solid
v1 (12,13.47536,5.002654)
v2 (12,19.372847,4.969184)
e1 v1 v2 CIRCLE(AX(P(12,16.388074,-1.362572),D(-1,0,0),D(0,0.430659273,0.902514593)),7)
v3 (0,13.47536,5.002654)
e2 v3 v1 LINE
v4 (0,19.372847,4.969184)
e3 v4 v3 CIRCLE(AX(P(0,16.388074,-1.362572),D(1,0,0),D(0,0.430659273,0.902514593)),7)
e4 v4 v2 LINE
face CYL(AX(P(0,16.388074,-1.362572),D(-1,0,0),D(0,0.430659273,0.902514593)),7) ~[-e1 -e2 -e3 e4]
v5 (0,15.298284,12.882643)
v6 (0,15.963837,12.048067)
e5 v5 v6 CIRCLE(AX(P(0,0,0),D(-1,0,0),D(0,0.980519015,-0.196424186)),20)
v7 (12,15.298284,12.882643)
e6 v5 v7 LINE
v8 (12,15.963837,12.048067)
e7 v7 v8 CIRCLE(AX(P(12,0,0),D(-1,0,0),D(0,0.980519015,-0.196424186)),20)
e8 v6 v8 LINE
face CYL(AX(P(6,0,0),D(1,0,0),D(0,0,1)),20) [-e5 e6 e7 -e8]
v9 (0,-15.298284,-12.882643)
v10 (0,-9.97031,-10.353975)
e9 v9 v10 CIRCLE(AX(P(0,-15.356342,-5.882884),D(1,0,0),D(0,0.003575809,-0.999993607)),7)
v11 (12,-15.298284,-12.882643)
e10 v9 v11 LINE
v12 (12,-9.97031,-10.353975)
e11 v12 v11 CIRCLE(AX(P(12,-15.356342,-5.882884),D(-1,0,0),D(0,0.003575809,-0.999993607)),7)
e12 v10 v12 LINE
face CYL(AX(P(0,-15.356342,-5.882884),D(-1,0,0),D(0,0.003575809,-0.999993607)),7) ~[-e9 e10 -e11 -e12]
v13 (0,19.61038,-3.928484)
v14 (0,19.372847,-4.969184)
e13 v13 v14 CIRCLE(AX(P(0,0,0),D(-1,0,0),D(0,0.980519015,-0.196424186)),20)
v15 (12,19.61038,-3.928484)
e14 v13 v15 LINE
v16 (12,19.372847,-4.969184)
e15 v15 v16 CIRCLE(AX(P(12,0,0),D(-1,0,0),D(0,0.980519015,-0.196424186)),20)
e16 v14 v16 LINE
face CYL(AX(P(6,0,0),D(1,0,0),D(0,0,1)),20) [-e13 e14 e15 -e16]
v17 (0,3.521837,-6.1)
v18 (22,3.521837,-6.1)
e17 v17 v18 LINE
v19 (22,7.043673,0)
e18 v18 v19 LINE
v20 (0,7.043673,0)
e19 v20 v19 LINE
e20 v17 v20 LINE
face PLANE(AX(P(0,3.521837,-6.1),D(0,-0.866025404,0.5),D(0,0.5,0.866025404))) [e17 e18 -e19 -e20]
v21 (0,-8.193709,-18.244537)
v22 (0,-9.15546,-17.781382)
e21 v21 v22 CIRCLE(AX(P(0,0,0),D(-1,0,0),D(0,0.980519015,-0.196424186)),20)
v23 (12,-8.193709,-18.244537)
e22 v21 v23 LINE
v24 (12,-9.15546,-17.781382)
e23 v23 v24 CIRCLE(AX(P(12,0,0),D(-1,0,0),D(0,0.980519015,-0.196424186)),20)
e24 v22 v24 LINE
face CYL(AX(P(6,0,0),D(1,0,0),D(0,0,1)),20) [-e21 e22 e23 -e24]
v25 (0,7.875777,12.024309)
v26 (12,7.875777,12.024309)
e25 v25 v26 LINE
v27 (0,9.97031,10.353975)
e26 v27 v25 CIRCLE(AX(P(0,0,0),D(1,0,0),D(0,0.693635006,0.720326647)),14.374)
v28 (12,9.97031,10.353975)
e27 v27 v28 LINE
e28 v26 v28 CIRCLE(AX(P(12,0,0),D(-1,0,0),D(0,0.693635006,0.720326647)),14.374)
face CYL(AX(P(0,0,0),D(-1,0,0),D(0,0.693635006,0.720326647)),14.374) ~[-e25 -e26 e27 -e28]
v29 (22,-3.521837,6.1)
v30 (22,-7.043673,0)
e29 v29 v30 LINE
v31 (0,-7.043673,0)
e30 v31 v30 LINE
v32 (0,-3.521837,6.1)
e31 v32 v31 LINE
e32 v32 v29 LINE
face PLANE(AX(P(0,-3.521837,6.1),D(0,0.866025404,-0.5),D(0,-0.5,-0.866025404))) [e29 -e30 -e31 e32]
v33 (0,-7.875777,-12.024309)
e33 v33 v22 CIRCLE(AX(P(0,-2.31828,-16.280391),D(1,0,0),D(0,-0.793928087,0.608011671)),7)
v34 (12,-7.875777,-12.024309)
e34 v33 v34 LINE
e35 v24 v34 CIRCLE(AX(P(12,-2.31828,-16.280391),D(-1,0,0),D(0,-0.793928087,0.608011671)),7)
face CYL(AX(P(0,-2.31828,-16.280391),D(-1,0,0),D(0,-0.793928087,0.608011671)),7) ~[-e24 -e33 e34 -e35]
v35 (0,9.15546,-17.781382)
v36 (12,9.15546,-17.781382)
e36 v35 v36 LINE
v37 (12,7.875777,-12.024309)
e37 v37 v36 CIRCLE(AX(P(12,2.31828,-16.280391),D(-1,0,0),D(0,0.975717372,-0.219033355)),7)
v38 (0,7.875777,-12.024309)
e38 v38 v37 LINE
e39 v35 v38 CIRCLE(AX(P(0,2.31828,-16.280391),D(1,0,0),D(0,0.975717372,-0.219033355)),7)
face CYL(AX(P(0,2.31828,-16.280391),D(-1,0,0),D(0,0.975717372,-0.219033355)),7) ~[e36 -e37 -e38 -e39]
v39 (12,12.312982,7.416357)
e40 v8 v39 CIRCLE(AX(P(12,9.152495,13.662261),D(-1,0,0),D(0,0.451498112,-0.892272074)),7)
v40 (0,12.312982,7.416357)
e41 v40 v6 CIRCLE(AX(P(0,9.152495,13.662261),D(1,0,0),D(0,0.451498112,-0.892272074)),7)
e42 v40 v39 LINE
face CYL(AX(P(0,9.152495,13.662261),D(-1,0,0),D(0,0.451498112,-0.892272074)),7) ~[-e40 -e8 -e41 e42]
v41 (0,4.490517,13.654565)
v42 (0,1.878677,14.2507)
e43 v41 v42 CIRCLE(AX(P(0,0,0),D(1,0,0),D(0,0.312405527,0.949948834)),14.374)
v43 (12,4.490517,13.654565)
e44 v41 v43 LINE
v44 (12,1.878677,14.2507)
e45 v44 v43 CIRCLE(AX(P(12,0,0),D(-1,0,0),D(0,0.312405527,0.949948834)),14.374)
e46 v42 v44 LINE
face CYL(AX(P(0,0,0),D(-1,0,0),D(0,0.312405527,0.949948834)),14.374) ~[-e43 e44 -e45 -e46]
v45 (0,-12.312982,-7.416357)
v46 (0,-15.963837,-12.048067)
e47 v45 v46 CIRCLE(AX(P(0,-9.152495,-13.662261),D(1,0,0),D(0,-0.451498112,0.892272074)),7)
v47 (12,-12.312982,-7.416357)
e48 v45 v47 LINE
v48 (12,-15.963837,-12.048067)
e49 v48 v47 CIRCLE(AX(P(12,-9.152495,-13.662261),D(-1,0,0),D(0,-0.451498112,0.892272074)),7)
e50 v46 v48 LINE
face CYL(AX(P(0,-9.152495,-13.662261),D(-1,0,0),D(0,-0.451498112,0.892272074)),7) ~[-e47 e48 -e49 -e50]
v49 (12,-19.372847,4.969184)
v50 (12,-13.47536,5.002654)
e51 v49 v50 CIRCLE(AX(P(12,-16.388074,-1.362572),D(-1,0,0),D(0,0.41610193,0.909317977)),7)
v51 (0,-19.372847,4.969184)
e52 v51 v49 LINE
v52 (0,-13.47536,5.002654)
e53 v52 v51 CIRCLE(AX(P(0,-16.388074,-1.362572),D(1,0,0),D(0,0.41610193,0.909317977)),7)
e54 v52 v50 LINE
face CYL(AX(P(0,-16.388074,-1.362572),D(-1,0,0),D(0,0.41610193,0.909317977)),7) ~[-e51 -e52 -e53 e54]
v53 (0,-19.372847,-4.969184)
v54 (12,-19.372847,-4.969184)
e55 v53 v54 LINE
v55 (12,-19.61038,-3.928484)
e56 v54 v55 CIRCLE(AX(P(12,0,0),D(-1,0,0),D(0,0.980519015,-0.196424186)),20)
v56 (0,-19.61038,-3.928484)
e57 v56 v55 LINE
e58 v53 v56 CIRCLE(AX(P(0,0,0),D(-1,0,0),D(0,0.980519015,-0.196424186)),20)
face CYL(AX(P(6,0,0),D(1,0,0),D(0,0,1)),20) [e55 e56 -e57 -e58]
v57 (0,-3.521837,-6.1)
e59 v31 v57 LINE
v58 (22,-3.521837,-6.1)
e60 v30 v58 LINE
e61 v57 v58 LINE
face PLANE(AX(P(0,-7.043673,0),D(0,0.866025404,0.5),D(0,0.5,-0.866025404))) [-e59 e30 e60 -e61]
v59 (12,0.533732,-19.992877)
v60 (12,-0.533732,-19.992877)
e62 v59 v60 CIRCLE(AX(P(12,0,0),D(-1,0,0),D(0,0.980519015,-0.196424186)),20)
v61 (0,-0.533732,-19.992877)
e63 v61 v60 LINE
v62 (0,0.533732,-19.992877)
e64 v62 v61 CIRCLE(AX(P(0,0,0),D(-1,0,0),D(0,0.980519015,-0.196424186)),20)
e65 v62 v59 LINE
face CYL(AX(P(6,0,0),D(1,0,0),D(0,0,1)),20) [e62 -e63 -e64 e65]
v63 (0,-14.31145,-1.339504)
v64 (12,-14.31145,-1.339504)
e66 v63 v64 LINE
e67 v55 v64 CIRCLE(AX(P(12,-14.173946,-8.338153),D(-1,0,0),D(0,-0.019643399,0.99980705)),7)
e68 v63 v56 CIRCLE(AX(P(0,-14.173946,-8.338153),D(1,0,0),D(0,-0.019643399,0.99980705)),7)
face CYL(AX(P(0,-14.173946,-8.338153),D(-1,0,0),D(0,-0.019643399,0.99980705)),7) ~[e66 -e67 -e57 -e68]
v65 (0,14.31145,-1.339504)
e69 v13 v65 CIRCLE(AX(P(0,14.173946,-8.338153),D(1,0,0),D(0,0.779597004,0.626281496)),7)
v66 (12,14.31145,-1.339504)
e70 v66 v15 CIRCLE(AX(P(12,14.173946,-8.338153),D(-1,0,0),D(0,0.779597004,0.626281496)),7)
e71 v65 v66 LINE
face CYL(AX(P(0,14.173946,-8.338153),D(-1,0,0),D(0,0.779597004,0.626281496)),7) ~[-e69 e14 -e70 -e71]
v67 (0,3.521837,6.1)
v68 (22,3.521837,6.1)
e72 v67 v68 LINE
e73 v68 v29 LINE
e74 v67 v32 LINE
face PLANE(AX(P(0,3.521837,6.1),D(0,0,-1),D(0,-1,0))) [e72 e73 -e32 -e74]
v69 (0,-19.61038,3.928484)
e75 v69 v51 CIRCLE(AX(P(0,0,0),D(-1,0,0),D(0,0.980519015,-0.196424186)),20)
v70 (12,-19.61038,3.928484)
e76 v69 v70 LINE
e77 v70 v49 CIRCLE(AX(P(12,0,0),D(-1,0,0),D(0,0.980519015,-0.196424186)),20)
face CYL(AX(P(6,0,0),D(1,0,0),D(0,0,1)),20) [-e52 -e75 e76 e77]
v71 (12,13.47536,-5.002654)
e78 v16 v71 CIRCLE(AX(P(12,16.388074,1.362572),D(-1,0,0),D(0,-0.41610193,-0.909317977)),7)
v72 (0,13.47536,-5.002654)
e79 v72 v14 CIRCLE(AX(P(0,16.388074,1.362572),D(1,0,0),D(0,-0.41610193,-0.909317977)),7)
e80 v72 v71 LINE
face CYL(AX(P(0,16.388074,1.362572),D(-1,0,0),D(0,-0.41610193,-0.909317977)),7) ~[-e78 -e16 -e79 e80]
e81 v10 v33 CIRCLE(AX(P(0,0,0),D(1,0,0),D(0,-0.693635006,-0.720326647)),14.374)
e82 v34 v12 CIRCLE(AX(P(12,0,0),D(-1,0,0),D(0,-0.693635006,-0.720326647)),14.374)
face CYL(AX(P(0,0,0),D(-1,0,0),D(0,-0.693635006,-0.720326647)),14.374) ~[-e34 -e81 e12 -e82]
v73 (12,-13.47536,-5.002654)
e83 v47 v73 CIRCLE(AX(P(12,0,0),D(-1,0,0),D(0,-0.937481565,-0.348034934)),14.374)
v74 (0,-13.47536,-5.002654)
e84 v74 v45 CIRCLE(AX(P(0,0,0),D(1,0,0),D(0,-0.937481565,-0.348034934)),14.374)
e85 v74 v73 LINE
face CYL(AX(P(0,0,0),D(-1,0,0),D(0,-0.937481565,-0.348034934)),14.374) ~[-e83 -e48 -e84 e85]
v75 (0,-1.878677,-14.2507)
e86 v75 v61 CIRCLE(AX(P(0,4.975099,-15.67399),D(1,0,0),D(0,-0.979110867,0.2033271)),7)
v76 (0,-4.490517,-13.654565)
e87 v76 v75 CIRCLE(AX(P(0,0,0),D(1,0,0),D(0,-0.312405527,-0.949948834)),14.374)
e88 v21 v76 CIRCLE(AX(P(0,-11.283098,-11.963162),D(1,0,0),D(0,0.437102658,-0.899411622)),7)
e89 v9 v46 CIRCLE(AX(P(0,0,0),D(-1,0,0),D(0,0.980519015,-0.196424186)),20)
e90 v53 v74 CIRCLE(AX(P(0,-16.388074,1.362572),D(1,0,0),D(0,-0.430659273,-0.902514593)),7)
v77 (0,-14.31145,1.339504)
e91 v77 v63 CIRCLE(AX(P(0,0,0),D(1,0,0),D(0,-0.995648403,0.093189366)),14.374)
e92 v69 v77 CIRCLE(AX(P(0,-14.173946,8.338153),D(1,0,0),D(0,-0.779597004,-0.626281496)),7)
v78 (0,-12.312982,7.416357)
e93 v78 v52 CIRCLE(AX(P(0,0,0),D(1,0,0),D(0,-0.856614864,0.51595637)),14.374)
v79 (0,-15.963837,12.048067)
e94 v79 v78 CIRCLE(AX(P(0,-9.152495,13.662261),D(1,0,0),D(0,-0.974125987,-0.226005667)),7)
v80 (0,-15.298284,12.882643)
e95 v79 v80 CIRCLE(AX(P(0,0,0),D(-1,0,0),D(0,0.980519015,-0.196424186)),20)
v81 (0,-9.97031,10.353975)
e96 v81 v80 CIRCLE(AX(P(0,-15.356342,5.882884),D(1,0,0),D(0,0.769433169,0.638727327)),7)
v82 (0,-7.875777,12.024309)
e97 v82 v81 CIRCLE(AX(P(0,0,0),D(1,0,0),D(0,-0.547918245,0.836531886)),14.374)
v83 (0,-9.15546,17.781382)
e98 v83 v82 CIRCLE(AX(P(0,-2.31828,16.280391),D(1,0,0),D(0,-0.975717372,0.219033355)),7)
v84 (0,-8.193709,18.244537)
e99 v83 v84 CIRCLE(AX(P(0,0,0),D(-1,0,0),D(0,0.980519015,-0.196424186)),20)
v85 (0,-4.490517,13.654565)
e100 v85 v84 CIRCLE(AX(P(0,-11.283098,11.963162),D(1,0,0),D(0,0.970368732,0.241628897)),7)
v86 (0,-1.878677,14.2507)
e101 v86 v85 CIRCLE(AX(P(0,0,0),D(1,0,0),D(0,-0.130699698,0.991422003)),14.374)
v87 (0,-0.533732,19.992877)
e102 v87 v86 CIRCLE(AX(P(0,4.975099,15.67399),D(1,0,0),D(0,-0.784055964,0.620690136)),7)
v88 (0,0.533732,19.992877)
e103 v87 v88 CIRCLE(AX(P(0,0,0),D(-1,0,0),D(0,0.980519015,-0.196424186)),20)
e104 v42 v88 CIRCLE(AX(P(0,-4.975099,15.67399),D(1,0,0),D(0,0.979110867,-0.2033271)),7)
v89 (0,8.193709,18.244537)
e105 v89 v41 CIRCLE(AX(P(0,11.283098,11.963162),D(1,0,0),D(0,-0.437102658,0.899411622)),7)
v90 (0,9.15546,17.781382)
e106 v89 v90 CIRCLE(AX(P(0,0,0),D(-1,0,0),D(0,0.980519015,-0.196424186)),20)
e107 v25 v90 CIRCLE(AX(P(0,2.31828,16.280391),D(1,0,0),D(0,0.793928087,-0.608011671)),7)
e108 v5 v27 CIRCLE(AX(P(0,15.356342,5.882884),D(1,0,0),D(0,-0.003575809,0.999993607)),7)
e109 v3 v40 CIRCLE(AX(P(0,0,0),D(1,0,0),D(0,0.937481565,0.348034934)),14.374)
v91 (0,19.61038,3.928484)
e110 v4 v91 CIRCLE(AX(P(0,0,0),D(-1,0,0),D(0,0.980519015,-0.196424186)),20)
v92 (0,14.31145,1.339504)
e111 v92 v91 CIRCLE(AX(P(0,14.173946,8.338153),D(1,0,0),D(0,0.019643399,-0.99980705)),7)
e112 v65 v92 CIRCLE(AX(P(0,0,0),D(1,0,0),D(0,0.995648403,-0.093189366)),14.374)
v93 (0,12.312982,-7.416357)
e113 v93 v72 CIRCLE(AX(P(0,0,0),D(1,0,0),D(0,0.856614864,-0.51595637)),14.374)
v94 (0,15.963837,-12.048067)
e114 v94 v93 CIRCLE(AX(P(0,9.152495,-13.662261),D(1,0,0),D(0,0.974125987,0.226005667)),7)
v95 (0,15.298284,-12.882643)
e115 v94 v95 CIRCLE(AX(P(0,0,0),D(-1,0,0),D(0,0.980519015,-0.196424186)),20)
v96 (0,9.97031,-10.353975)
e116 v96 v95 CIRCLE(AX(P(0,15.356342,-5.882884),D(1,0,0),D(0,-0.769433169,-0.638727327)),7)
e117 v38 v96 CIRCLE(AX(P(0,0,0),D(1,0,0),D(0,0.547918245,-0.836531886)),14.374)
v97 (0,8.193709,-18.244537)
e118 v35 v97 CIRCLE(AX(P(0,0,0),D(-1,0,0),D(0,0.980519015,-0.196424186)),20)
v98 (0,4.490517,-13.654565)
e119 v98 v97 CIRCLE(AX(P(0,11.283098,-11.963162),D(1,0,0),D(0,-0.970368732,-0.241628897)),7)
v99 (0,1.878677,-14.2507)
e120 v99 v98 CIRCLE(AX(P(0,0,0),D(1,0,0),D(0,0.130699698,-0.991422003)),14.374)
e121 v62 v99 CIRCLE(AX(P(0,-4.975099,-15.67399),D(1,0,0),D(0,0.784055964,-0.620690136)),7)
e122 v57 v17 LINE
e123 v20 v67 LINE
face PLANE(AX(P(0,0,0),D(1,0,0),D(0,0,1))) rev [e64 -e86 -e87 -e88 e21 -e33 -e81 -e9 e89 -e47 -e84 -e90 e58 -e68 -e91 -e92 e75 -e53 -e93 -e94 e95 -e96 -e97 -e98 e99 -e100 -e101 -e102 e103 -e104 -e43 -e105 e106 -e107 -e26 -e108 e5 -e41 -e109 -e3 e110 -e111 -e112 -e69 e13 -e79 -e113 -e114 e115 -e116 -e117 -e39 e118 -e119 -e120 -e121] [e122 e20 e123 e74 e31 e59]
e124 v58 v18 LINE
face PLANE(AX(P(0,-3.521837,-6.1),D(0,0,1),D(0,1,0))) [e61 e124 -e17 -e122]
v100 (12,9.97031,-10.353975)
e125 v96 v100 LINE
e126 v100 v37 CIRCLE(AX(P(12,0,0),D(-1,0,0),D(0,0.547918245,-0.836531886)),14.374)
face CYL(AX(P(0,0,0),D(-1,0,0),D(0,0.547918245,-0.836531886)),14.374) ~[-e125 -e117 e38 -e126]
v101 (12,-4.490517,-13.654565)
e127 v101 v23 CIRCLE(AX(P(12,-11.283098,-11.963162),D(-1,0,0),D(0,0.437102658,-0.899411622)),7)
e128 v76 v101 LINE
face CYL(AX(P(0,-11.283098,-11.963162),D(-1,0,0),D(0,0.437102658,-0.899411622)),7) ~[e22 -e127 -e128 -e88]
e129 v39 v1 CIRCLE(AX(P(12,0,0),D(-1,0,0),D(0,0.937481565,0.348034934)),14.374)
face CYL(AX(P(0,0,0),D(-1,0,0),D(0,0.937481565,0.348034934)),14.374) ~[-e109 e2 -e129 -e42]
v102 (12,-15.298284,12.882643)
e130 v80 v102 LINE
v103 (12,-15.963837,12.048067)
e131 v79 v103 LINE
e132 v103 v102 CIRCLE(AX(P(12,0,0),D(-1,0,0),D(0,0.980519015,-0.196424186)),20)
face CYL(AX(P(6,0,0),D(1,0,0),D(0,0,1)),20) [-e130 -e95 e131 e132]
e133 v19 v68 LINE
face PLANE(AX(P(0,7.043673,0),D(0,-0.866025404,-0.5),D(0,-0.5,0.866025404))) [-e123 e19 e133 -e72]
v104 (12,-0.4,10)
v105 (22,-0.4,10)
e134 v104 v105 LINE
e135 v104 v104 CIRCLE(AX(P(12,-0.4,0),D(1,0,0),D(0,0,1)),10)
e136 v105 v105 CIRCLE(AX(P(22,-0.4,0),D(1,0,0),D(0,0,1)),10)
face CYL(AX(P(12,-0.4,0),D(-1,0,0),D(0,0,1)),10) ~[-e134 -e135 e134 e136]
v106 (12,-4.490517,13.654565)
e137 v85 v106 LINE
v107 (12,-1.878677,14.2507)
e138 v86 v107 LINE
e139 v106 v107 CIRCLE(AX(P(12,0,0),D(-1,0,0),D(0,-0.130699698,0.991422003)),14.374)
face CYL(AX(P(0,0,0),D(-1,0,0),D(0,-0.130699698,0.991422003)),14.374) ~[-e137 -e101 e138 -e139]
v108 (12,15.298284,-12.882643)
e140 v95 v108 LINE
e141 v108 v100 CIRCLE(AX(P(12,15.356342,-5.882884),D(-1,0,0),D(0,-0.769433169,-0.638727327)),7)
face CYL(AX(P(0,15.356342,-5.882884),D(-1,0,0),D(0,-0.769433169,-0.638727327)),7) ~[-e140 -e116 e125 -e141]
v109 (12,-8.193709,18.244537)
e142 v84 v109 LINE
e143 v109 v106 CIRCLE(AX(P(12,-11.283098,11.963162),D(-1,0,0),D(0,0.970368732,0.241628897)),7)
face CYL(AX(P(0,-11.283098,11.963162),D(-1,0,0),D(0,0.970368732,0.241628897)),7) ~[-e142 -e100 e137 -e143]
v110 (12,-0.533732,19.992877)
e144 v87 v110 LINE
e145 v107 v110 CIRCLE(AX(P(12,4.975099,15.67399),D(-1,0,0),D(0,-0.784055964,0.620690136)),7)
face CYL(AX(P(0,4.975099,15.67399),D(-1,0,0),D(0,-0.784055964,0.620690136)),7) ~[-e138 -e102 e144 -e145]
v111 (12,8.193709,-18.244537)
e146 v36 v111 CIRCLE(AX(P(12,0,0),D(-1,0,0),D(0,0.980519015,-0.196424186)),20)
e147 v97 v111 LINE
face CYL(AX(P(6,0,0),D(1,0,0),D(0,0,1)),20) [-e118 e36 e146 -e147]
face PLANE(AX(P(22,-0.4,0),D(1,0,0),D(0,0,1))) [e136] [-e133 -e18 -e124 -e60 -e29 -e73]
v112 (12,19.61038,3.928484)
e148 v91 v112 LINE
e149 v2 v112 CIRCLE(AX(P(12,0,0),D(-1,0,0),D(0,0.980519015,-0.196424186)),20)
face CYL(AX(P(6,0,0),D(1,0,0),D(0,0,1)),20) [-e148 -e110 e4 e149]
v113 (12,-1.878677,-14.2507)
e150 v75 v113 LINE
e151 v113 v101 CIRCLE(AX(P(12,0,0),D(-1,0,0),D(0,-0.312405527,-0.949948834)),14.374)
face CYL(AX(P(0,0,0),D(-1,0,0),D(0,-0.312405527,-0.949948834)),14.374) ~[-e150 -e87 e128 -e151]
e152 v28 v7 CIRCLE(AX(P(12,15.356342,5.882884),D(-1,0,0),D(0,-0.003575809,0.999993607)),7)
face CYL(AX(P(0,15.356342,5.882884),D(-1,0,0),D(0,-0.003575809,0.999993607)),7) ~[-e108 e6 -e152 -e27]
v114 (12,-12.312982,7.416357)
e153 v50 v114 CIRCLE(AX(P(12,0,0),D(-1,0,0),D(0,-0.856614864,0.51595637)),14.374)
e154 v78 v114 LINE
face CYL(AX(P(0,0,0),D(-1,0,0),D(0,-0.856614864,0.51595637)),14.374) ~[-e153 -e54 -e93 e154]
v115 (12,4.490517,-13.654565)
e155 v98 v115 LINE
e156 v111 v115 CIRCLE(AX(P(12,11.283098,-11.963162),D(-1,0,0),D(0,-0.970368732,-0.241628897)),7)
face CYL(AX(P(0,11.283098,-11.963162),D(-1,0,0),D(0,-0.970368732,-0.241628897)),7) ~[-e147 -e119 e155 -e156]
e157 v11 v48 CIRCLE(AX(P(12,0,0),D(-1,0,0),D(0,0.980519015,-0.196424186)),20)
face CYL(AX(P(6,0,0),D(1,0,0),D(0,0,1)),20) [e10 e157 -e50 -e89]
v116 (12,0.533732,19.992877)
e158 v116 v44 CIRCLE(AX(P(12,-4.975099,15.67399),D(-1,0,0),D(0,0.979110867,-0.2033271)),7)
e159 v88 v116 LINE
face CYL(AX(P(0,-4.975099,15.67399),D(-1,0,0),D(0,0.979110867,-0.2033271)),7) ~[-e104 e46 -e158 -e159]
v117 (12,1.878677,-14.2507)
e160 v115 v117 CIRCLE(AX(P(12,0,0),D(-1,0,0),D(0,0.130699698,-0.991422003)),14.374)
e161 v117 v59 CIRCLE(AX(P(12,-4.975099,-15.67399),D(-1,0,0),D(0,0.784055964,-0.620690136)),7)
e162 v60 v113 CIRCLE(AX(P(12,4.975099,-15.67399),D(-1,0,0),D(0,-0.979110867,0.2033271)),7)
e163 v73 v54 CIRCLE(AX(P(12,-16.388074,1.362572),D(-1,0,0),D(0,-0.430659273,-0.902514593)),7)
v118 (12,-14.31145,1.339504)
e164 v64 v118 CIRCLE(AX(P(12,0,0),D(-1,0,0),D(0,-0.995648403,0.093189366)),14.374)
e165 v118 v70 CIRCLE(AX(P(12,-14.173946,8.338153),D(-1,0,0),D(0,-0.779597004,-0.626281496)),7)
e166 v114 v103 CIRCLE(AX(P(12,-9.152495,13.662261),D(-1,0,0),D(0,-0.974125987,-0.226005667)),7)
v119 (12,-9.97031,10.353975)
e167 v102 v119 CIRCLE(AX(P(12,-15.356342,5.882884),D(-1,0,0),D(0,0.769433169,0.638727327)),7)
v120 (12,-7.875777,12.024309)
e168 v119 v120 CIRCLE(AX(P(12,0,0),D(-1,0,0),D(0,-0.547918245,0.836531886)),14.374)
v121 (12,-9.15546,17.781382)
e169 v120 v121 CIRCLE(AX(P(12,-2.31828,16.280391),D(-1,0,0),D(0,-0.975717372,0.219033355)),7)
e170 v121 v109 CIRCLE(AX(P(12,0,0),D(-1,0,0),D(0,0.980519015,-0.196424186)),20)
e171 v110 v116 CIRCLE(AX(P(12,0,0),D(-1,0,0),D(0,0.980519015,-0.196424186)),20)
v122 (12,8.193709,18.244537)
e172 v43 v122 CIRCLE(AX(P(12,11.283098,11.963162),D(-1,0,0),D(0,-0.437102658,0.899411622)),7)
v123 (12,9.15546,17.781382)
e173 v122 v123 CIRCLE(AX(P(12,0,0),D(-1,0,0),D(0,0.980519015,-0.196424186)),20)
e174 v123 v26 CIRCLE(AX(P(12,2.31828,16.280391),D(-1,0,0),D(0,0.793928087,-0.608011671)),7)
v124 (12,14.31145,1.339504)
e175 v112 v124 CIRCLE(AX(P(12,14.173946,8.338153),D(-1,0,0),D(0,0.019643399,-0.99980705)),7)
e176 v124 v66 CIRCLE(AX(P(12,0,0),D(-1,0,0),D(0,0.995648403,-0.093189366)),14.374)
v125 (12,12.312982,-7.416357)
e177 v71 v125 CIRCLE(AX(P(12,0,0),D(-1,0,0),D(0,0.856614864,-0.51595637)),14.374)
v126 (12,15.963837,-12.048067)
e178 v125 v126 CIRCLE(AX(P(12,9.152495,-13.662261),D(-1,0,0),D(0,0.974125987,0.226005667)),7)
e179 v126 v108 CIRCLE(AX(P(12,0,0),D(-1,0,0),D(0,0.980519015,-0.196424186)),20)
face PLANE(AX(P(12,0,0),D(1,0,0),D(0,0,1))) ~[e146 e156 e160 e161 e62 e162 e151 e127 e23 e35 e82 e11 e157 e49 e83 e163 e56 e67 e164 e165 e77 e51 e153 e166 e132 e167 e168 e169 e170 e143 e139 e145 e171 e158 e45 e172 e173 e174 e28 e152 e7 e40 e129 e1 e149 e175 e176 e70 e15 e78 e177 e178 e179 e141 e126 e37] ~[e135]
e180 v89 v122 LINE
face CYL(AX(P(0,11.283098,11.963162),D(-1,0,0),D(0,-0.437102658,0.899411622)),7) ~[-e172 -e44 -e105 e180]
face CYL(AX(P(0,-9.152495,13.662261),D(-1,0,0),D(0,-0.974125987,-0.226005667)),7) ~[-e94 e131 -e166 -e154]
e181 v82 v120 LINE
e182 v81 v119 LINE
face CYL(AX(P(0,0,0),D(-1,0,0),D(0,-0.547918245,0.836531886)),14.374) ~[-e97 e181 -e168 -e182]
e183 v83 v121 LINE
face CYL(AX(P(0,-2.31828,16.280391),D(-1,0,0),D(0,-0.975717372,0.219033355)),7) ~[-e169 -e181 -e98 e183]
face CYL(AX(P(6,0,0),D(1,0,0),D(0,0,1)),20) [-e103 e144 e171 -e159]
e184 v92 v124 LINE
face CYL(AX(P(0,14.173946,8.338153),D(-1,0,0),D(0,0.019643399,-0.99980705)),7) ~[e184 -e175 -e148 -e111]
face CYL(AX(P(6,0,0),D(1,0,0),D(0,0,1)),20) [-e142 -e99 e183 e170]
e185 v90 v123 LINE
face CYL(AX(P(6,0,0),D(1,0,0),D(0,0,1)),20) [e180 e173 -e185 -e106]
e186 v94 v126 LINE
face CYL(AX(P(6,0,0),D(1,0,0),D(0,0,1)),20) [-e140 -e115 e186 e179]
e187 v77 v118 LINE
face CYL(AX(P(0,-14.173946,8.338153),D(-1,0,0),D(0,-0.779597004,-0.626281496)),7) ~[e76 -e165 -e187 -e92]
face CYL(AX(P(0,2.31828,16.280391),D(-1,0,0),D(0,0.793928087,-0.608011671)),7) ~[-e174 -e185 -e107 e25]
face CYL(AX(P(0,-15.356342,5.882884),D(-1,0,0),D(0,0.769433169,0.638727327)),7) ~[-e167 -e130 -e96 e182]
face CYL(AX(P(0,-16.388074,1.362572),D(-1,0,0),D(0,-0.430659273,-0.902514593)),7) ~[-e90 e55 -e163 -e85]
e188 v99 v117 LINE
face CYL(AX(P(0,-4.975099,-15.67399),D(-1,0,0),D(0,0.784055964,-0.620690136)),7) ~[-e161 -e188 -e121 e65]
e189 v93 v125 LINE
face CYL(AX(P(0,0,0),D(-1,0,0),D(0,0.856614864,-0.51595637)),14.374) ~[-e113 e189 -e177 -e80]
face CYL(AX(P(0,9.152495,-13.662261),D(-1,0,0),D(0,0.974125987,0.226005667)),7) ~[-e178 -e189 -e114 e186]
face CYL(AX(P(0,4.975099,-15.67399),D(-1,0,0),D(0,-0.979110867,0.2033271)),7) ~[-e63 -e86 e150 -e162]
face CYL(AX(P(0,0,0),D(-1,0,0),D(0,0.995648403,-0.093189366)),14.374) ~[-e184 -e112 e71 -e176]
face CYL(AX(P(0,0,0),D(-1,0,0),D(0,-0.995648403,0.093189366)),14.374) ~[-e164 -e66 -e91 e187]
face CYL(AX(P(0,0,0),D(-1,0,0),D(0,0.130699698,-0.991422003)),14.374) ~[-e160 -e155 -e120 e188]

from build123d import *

# Parameters (mm, degrees)
BASPROSKE_W         = 12
BASPROSKE_H         = 20
TOOTHCUT_DEPTH      = 31.724582991
TEETHCUTS_COUNT     = 14
TEETHCUTS_ANGLE     = 334.285714286
BORSKE_R            = 0.4
BORE_DEPTH          = 50.0000508
SKETCH1_R           = 10
BOSS_EXTRUDE1_DEPTH = 10
CUT_EXTRUDE1_START  = -22
CUT_EXTRUDE1_DEPTH  = 22


with BuildPart() as part:
    # BasProSke → Base-Revolve (revolve)
    with BuildSketch(Plane(origin=(0, 0, 0), x_dir=(1, 0, 0), z_dir=(0, 1, 0)), mode=Mode.PRIVATE) as base_revolve_sk:
        with Locations((6, 10)):
            Rectangle(BASPROSKE_W, BASPROSKE_H)
    revolve(base_revolve_sk.sketch.rotate(Axis((-10, 0, 0), (1, 0, 0)), 180), axis=Axis((-10, 0, 0), (1, 0, 0)))

    # TooCutSke → ToothCut (cut, through all)
    with BuildSketch(Plane(origin=(0, 0, 0), x_dir=(0, 0, -1), z_dir=(1, 0, 0))):
        with BuildLine():
            ThreePointArc((1.339503949, 14.311450142), (0, 14.374), (-1.339503949, 14.311450142))
            ThreePointArc((-1.339503949, 14.311450142), (-2.055976555, 17.261705303), (-3.954182827, 19.631125371))
            ThreePointArc((-3.954182827, 19.631125371), (0, 20.0254), (3.954182827, 19.631125371))
            ThreePointArc((3.954182827, 19.631125371), (2.055976555, 17.261705303), (1.339503949, 14.311450142))
        make_face()
    toothcut = extrude(amount=TOOTHCUT_DEPTH, mode=Mode.SUBTRACT)

    # TeethCuts: ToothCut ×14 about axis
    teethcuts_axis = Axis((-10, 0, 0), (1, 0, 0))
    for i in range(1, TEETHCUTS_COUNT):
        add(toothcut.rotate(teethcuts_axis, i * TEETHCUTS_ANGLE / (TEETHCUTS_COUNT - 1)), mode=Mode.SUBTRACT)

    # BorSke → Bore (cut, symmetric)
    with BuildSketch(Plane(origin=(0, 0, 0), x_dir=(0, 0, -1), z_dir=(1, 0, 0))):
        with Locations(Location((0, 0, 0), (0, 0, 180))):
            Circle(BORSKE_R)
    extrude(amount=BORE_DEPTH, both=True, mode=Mode.SUBTRACT)

    # Sketch1 → Boss-Extrude1 (add)
    with BuildSketch(Plane(origin=(12, 0, 0), x_dir=(0, 0, -1), z_dir=(1, 0, 0))):
        with Locations(Location((0, -0.4, 0), (0, 0, 180))):
            Circle(SKETCH1_R)
    extrude(amount=BOSS_EXTRUDE1_DEPTH)

    # Sketch2 → Cut-Extrude1 (cut)
    with BuildSketch(Plane(origin=(22, 0, 0), x_dir=(0, 0, -1), z_dir=(1, 0, 0)).offset(CUT_EXTRUDE1_START)):
        Polygon((6.1, 3.521836642), (0, 7.043673284), (-6.1, 3.521836642), (-6.1, -3.521836642), (0, -7.043673284), (6.1, -3.521836642), align=None)
    extrude(amount=CUT_EXTRUDE1_DEPTH, mode=Mode.SUBTRACT)


solid = part.part
